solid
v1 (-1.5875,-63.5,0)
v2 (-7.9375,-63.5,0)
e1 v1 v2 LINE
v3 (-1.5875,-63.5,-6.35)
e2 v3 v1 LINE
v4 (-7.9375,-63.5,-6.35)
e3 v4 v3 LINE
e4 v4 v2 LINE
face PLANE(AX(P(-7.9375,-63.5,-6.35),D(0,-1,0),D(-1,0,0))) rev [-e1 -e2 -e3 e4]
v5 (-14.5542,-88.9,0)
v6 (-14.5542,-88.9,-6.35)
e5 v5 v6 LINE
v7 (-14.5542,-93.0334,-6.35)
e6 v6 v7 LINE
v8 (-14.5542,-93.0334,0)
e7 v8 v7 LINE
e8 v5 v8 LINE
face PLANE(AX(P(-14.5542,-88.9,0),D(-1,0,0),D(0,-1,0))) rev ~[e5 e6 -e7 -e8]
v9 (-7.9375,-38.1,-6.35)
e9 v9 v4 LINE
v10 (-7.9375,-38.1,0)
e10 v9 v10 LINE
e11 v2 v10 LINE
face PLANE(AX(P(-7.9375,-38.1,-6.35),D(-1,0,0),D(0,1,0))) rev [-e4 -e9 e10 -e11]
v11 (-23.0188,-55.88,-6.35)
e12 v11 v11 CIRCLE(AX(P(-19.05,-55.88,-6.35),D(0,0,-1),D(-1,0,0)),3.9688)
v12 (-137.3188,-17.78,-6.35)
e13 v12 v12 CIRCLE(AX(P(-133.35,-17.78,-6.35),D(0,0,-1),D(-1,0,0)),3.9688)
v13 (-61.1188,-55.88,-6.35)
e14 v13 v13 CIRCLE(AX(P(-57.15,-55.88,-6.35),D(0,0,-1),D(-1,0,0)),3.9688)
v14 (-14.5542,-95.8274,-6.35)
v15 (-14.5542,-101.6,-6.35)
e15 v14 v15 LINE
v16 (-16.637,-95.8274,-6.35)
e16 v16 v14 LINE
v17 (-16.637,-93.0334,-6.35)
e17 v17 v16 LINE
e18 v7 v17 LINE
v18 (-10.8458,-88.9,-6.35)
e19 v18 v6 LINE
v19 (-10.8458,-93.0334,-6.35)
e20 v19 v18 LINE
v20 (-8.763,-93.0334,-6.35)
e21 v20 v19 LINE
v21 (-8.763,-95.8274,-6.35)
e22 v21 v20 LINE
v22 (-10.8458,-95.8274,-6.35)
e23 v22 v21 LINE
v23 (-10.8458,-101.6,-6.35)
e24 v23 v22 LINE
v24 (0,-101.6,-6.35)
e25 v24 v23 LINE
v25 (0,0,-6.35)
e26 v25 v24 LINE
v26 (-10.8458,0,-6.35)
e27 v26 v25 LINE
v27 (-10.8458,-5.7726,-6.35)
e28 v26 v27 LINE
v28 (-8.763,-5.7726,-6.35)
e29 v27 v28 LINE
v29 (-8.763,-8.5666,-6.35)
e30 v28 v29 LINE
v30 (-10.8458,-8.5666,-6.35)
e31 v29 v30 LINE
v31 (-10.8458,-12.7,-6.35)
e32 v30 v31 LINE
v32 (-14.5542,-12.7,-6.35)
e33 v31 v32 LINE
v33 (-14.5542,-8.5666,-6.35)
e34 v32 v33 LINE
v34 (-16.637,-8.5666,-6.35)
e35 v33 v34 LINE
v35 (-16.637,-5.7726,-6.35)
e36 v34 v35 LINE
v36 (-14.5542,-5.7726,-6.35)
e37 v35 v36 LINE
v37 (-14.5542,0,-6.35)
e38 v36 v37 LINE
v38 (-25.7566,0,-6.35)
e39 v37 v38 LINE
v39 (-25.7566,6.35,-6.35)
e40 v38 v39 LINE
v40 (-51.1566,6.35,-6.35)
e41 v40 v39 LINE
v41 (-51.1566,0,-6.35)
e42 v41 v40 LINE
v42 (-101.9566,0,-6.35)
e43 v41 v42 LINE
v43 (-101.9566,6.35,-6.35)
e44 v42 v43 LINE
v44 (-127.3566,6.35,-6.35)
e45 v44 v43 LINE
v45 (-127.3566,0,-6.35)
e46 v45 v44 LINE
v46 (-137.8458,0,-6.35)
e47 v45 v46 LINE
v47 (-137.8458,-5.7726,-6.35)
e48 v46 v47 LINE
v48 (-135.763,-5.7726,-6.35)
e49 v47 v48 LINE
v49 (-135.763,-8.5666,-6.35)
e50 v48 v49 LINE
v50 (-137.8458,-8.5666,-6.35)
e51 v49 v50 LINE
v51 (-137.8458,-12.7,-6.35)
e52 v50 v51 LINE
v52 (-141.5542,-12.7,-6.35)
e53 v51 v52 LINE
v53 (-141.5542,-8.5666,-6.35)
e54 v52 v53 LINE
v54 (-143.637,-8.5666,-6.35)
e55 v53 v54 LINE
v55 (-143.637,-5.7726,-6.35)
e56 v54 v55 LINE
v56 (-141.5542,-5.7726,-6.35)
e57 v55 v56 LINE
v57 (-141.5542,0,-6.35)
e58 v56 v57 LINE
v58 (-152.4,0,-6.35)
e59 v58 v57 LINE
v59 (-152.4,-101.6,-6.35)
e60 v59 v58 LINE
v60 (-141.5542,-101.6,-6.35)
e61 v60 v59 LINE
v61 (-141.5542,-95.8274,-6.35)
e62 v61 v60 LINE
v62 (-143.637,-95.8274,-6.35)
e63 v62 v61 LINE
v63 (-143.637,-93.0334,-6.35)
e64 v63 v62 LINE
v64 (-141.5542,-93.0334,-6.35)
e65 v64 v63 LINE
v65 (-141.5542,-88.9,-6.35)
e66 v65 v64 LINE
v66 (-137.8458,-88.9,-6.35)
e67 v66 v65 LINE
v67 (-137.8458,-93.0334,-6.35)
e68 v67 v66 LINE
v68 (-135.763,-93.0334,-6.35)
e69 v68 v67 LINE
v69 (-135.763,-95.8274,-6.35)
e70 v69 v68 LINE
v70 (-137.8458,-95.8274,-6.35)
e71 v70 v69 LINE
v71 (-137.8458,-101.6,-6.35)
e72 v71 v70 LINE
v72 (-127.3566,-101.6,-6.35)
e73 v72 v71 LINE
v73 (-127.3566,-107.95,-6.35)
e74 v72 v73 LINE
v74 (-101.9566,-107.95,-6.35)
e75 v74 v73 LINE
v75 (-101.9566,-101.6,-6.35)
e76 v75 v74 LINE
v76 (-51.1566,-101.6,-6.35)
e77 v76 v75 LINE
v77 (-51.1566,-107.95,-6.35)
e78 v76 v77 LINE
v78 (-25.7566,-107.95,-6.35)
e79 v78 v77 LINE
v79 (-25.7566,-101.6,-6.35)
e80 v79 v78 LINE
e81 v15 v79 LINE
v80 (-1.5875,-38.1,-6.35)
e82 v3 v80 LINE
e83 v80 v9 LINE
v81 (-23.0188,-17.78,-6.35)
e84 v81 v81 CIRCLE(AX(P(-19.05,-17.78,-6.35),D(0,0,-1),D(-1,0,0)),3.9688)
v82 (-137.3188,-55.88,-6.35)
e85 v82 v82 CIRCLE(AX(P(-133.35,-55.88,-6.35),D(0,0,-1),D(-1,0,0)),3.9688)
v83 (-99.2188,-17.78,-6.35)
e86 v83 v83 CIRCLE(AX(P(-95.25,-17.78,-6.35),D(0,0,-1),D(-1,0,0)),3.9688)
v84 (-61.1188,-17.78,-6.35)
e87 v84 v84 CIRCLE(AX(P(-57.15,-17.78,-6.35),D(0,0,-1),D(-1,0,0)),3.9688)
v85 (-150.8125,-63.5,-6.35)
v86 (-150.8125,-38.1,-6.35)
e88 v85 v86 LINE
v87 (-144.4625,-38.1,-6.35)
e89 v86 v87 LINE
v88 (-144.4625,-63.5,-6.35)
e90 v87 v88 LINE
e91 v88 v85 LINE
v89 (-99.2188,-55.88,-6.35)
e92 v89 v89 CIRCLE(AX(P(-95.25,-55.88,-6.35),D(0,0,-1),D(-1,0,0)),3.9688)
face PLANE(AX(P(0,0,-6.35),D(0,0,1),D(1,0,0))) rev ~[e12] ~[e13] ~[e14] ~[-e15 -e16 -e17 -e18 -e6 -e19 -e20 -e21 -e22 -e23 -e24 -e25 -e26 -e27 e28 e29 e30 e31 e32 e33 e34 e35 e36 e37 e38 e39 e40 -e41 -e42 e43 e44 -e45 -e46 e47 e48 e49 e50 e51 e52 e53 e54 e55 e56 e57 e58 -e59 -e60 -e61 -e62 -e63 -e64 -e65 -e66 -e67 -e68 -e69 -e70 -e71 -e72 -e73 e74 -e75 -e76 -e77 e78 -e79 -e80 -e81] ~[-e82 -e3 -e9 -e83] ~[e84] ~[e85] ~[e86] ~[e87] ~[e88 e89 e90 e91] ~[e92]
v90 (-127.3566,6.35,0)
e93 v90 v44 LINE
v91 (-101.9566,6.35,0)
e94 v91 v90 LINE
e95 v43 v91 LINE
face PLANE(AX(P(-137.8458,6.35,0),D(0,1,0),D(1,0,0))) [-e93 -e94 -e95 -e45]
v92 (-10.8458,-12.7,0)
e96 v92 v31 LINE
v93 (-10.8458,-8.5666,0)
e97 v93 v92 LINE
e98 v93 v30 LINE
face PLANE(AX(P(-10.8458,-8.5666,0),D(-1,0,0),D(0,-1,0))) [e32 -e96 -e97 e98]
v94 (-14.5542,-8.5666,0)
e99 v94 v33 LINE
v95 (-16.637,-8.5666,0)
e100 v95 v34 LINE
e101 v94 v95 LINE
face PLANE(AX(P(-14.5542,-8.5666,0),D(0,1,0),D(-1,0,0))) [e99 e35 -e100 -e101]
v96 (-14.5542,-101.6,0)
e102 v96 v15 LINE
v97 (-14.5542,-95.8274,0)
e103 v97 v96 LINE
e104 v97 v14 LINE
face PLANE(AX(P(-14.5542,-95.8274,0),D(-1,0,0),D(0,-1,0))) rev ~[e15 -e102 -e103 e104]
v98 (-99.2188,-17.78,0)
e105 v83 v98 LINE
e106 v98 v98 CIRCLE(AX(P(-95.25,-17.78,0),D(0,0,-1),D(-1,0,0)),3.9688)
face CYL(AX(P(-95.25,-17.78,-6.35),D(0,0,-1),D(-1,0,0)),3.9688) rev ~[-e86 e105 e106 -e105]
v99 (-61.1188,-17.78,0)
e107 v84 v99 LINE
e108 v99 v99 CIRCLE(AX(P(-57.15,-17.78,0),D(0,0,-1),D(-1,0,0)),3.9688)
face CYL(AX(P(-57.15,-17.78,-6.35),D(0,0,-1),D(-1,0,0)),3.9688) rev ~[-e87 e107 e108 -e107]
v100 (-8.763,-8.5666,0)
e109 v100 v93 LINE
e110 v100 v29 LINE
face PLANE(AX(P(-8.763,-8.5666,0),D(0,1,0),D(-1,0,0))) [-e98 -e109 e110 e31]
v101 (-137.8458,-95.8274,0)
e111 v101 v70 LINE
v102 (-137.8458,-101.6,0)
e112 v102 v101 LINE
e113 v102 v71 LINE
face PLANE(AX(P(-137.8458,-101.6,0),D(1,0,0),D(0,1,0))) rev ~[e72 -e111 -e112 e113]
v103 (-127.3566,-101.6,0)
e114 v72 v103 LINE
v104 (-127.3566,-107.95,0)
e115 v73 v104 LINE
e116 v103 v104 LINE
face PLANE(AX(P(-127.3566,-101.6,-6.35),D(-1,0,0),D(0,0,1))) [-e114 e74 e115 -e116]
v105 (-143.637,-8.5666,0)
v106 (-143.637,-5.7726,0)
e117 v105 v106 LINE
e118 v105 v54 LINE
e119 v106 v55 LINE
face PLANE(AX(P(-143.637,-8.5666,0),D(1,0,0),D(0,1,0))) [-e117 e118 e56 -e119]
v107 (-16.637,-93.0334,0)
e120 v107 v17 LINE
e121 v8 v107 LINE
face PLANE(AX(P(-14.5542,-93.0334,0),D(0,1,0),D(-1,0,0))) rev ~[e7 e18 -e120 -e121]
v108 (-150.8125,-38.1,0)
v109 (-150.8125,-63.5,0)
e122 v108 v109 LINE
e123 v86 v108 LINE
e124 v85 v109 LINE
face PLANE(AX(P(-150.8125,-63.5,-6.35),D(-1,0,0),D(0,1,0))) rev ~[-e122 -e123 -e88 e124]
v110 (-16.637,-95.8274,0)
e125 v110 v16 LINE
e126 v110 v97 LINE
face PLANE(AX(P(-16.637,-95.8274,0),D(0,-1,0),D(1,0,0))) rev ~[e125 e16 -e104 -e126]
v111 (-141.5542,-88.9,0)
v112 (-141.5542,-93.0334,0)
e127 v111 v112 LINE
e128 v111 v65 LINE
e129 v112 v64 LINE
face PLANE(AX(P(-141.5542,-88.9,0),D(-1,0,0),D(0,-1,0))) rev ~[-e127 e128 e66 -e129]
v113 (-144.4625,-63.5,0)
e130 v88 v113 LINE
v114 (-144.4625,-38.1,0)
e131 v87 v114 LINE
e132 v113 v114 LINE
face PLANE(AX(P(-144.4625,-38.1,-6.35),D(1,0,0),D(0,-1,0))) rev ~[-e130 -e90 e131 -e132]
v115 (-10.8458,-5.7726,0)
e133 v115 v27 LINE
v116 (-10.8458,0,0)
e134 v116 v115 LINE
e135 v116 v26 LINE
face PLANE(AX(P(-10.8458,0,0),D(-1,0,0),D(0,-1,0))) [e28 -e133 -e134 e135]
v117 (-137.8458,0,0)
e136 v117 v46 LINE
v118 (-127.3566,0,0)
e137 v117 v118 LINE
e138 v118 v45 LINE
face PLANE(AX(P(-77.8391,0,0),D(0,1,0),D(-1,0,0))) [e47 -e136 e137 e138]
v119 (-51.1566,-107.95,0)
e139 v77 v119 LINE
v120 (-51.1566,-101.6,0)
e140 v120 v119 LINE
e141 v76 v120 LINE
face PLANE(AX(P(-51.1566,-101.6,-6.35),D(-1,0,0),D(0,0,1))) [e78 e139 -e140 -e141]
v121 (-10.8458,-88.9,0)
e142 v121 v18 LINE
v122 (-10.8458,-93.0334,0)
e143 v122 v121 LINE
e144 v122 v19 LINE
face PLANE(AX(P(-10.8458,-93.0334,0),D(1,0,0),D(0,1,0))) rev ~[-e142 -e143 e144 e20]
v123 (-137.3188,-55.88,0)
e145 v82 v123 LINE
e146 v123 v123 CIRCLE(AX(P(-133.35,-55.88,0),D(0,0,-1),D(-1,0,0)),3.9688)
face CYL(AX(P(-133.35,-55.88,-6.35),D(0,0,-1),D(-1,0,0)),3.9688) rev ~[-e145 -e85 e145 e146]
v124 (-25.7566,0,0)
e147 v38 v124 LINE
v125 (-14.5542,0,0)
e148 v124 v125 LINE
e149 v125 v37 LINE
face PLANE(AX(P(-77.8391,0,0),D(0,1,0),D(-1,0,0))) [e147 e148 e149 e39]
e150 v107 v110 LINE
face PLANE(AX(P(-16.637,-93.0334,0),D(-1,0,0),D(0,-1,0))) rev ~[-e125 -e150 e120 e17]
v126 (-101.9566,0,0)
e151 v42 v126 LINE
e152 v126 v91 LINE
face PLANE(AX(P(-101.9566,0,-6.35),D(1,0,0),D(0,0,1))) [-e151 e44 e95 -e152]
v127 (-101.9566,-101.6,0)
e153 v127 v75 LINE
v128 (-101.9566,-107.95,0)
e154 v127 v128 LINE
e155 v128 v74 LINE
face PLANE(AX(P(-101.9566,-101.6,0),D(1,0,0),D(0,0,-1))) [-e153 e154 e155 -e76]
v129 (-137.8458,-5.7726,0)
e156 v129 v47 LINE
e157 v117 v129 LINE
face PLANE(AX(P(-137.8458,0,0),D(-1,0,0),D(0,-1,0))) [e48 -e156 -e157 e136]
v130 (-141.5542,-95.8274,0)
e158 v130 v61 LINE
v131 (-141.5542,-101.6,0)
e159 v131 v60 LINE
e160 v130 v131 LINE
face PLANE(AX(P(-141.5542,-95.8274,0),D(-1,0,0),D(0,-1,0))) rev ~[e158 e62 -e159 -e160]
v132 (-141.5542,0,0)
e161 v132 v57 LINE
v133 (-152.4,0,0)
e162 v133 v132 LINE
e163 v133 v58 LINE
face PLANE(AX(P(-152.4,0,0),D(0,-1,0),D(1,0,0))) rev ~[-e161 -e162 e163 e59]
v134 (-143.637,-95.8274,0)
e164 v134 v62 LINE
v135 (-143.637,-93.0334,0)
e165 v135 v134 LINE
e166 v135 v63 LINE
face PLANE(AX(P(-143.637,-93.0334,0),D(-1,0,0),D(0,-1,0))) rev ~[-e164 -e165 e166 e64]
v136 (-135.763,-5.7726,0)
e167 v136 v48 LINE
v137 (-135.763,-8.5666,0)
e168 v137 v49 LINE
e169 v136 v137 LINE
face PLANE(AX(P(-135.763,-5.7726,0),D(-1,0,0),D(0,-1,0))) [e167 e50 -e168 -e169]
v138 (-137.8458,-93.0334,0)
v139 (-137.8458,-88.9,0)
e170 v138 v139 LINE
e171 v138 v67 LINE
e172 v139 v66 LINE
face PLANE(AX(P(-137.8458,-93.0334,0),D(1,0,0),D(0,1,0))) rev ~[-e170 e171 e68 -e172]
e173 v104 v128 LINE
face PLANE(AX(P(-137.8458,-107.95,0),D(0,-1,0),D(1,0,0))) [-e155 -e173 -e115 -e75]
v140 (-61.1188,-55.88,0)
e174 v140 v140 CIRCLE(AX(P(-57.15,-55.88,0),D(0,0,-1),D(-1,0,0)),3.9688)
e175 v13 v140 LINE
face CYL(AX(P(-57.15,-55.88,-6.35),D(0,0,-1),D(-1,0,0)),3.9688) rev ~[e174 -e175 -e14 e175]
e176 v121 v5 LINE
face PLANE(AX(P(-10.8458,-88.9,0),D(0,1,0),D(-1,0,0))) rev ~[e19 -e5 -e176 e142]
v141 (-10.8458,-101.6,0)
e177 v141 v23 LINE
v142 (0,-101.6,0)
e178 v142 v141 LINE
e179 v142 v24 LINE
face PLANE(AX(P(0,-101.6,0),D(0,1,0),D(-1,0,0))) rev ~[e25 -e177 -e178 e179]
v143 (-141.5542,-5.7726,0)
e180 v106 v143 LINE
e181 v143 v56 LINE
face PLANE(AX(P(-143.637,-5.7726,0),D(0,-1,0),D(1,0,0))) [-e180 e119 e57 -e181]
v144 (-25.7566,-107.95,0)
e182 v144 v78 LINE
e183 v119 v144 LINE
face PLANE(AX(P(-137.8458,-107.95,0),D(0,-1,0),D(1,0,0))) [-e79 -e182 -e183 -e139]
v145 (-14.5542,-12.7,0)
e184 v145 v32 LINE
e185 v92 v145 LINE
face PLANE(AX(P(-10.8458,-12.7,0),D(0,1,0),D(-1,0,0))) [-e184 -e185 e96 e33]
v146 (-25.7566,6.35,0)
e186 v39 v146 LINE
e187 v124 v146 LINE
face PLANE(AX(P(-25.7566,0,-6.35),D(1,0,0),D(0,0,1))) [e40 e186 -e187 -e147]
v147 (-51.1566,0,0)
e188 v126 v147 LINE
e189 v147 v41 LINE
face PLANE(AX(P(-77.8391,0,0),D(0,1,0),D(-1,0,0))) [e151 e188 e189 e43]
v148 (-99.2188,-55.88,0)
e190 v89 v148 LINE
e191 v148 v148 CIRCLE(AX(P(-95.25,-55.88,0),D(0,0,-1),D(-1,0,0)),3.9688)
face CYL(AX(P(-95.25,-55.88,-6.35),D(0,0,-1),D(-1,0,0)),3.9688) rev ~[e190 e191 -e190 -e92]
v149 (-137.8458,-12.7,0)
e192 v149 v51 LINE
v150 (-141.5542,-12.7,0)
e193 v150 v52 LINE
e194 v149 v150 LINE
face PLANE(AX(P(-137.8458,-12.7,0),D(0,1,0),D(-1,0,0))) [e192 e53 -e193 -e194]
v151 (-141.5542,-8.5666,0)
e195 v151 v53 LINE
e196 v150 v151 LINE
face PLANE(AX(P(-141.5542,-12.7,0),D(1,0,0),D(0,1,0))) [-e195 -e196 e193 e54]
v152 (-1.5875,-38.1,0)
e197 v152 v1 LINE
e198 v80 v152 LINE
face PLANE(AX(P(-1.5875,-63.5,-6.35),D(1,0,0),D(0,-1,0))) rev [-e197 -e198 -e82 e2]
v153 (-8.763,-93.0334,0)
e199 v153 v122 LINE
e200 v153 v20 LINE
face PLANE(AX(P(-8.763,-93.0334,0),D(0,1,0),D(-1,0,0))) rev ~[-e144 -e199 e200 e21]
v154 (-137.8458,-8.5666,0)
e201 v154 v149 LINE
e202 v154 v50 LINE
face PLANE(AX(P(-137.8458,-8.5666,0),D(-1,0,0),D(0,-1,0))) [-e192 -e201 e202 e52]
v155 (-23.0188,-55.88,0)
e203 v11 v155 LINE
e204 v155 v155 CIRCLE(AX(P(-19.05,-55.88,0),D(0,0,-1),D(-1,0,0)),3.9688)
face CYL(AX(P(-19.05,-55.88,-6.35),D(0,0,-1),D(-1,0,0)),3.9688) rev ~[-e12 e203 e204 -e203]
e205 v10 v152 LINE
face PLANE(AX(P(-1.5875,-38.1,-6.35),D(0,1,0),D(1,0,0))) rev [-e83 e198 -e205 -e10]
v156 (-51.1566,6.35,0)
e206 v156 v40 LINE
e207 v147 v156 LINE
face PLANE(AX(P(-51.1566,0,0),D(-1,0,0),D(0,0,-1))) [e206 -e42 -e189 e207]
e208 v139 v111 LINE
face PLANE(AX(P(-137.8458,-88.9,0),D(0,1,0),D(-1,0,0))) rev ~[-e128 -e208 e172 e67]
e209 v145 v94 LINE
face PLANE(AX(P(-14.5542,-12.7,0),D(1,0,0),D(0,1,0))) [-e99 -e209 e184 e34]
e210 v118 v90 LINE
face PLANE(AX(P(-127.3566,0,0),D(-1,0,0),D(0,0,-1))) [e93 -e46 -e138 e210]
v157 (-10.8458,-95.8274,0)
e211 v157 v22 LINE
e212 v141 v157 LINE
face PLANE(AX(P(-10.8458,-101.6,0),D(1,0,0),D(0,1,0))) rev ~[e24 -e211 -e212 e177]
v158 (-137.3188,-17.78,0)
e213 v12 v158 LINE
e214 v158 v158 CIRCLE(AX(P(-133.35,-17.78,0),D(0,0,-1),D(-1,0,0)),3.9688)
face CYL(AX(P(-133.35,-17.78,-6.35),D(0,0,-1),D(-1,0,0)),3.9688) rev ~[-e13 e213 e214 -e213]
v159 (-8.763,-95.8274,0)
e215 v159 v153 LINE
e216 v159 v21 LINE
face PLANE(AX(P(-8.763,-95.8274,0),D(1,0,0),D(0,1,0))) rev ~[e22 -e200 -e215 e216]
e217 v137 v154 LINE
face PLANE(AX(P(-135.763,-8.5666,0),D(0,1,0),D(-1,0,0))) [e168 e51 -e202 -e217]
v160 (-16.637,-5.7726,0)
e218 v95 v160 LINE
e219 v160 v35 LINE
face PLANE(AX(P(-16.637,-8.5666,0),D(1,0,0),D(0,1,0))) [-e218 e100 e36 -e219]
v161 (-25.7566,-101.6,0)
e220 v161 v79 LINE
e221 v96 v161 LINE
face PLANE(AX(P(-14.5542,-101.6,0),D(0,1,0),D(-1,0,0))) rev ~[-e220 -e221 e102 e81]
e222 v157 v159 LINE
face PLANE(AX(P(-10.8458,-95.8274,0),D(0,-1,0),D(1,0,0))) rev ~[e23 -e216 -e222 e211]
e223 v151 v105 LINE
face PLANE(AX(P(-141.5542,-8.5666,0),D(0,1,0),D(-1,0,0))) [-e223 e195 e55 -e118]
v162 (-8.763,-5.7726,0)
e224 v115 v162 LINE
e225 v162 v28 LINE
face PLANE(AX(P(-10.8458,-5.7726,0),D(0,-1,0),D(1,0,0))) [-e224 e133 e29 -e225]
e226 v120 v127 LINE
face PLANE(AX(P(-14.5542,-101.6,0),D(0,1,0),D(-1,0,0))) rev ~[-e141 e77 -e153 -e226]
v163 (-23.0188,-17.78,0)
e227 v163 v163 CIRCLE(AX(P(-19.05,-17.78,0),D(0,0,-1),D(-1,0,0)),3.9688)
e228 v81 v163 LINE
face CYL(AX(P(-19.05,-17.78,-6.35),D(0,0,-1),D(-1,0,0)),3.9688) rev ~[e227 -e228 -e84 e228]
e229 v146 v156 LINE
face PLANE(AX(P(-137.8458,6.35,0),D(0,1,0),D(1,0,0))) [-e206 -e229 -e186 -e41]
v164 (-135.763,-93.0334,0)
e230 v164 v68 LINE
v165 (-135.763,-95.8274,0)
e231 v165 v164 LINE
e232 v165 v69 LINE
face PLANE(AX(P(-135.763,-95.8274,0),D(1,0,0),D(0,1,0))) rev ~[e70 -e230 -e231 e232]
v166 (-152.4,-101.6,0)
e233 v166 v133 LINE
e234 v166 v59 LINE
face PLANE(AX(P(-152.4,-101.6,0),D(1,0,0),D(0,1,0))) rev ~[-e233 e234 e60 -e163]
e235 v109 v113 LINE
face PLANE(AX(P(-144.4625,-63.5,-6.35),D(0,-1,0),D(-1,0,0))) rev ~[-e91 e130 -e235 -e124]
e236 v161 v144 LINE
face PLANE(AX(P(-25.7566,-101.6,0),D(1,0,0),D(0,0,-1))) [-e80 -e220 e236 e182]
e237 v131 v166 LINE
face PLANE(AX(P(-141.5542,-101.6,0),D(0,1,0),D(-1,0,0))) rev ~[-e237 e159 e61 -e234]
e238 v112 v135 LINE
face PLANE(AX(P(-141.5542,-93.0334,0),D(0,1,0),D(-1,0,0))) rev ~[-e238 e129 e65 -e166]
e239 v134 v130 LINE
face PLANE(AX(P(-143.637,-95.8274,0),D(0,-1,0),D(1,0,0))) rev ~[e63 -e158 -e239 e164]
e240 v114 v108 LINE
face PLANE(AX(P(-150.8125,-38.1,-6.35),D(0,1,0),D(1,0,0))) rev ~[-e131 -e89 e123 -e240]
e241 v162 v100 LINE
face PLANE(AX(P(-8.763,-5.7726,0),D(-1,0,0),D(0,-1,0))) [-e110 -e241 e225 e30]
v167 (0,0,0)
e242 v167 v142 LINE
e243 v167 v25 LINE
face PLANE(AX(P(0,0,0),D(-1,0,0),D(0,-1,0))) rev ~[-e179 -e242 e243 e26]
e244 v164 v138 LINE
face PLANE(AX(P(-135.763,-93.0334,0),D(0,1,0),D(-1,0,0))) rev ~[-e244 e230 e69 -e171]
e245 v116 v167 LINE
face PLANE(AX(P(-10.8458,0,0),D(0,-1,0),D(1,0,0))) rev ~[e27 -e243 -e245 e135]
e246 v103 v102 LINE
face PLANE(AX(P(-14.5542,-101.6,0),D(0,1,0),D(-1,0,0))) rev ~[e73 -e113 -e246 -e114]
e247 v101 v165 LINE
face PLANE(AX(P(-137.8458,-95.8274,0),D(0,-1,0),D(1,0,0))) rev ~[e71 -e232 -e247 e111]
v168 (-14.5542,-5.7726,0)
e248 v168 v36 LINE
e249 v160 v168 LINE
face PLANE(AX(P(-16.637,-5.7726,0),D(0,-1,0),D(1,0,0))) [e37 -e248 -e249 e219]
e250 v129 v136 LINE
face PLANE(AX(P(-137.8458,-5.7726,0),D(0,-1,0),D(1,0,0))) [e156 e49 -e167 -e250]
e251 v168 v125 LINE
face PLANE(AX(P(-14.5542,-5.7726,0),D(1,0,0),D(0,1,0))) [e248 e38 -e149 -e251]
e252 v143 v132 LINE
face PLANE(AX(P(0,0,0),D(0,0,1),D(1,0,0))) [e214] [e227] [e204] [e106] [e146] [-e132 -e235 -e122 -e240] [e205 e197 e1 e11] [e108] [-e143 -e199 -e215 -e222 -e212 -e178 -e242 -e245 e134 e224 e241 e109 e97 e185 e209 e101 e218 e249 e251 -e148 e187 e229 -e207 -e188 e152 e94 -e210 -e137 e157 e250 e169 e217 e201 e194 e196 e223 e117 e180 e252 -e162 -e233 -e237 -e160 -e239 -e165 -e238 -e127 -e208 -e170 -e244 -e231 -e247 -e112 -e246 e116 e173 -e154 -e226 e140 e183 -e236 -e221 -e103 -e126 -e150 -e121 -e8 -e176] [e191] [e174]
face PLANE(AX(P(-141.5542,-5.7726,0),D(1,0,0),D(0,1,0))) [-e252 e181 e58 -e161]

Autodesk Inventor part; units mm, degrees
ref_plane "YZ Plane" through (0, 0, 0) normal (1, 0, 0) x (0, 1, 0)
ref_plane "Work Plane1" through (0, 0, 0) normal (0, 0, 1) x (1, 0, 0)
sketch "Sketch1" plane through (0, 0, 0) normal (0, 0, 1) x (1, 0, 0)
  line L0 (-77.8391, 0) -> (-108.8361, 0) projected
  line L1 (-108.8361, -33.02) -> (-108.8361, 0) projected
  line L2 (-77.8391, -33.02) -> (-108.8361, -33.02) projected
  line L3 (-77.8391, -33.02) -> (-77.8391, 0) projected
  line L4 (-152.4, 0) -> (0, 0) construction
  line L5 (-152.4, 0) -> (-152.4, 6.35) construction
  line L6 (0, 0) -> (0, 6.35) construction
  line L7 (-152.4, 0) -> (0, 0)
  line L8 (0, 0) -> (0, -101.6)
  line L9 (0, -101.6) -> (-152.4, -101.6)
  line L10 (-152.4, -101.6) -> (-152.4, 0)
  line L11 (-137.8458, 6.35) -> (-137.8458, 0)
  line L12 (-141.5542, 6.35) -> (-141.5542, 0)
  line L13 (-14.5542, 6.35) -> (-14.5542, 0)
  line L14 (-10.8458, 6.35) -> (-10.8458, 0)
  line L15 (-141.5542, 0) -> (-137.8458, 0)
  line L16 (-137.8458, 0) -> (-137.8458, -12.7)
  line L17 (-137.8458, -12.7) -> (-141.5542, -12.7)
  line L18 (-141.5542, -12.7) -> (-141.5542, 0)
  line L19 (-14.5542, 0) -> (-10.8458, 0)
  line L20 (-10.8458, 0) -> (-10.8458, -12.7)
  line L21 (-10.8458, -12.7) -> (-14.5542, -12.7)
  line L22 (-14.5542, -12.7) -> (-14.5542, 0)
  line L23 (-16.637, -5.7726) -> (-8.763, -5.7726)
  line L24 (-8.763, -5.7726) -> (-8.763, -8.5666)
  line L25 (-8.763, -8.5666) -> (-16.637, -8.5666)
  line L26 (-16.637, -8.5666) -> (-16.637, -5.7726)
  line L27 (-143.637, -5.7726) -> (-135.763, -5.7726)
  line L28 (-135.763, -5.7726) -> (-135.763, -8.5666)
  line L29 (-135.763, -8.5666) -> (-143.637, -8.5666)
  line L30 (-143.637, -8.5666) -> (-143.637, -5.7726)
  line L31 (-152.4, -50.8) -> (0, -50.8) construction
  line L32 (-137.8458, -107.95) -> (-137.8458, -101.6)
  line L33 (-141.5542, -107.95) -> (-141.5542, -101.6)
  line L34 (-14.5542, -107.95) -> (-14.5542, -101.6)
  line L35 (-10.8458, -107.95) -> (-10.8458, -101.6)
  line L36 (-141.5542, -101.6) -> (-137.8458, -101.6)
  line L37 (-137.8458, -101.6) -> (-137.8458, -88.9)
  line L38 (-137.8458, -88.9) -> (-141.5542, -88.9)
  line L39 (-141.5542, -88.9) -> (-141.5542, -101.6)
  line L40 (-14.5542, -101.6) -> (-10.8458, -101.6)
  line L41 (-10.8458, -101.6) -> (-10.8458, -88.9)
  line L42 (-10.8458, -88.9) -> (-14.5542, -88.9)
  line L43 (-14.5542, -88.9) -> (-14.5542, -101.6)
  line L44 (-16.637, -95.8274) -> (-8.763, -95.8274)
  line L45 (-8.763, -95.8274) -> (-8.763, -93.0334)
  line L46 (-8.763, -93.0334) -> (-16.637, -93.0334)
  line L47 (-16.637, -93.0334) -> (-16.637, -95.8274)
  line L48 (-143.637, -95.8274) -> (-135.763, -95.8274)
  line L49 (-135.763, -95.8274) -> (-135.763, -93.0334)
  line L50 (-135.763, -93.0334) -> (-143.637, -93.0334)
  line L51 (-143.637, -93.0334) -> (-143.637, -95.8274)
  dimension "d0" = 101.6
  dimension "d1" = 12.7
  dimension "d2" = 7.874
  dimension "d3" = 2.794
  dimension "d6" = 2.0828
  dimension "d7" = 2.0828
  dimension "d8" = 7.874
  dimension "d9" = 2.0828
  dimension "d10" = 2.0828
ref_plane "Work Plane2" through (-137.8458, 0, 0) normal (0, 1, 0) x (1, 0, 0)
sketch "Sketch2" plane through (-137.8458, 0, 0) normal (0, 1, 0) x (1, 0, 0)
  line L0 (35.8892, 0) -> (10.4892, 0) projected
  line L1 (10.4892, 0) -> (10.4892, 6.35) projected
  line L2 (10.4892, 6.35) -> (35.8892, 6.35) projected
  line L3 (35.8892, 6.35) -> (35.8892, 0) projected
  line L4 (112.0892, 0) -> (86.6892, 0) projected
  line L5 (112.0892, 6.35) -> (112.0892, 0) projected
  line L6 (86.6892, 6.35) -> (112.0892, 6.35) projected
  line L7 (86.6892, 0) -> (86.6892, 6.35) projected
  point P0 (137.8458, 0)
extrude "Extrusion2" add sketch "Sketch2" along normal blind 6.35
extrude "Extrusion3" add sketch "Sketch1" against normal blind 6.35 contours L3 L2 L1 L0 | L7 L22 L23 L26 L25 L21 L20 L24 L8 L9 L41 L44 L45 L46 L42 L43 L47 L37 L48 L49 L50 L38 L39 L51 L10 L18 L27 L30 L29 L17 L16 L28 L1 L2 L3
sketch "Sketch3" plane through (-137.8458, -101.6, 0) normal (0, -1, 0) x (1, 0, 0)
  line L0 (35.8892, 0) -> (35.8892, -6.35) projected
  line L1 (35.8892, -6.35) -> (10.4892, -6.35) projected
  line L2 (10.4892, -6.35) -> (10.4892, 0) projected
  line L3 (10.4892, 0) -> (35.8892, 0) projected
  line L4 (112.0892, 0) -> (112.0892, -6.35) projected
  line L5 (112.0892, -6.35) -> (86.6892, -6.35) projected
  line L6 (86.6892, -6.35) -> (86.6892, 0) projected
  line L7 (86.6892, 0) -> (112.0892, 0) projected
  point P0 (137.8458, 0)
extrude "Extrusion4" add sketch "Sketch3" along normal blind 6.35
sketch "Sketch4" plane through (-101.9566, 6.35, -6.35) normal (0, 0, -1) x (-1, 0, 0)
  line L0 (48.8559, -69.85) -> (48.8559, -44.45) projected
  line L1 (48.8559, -44.45) -> (42.5059, -44.45) projected
  line L2 (42.5059, -44.45) -> (42.5059, -69.85) projected
  line L3 (42.5059, -69.85) -> (48.8559, -69.85) projected
extrude "Extrusion5" cut sketch "Sketch4" against normal through all
ref_plane "Work Plane3" through (-76.2, -101.6, 0) normal (-1, 0, 0) x (0, 0, 1)
mirror "Mirror1" about plane through (-76.2, -101.6, 0) normal (-1, 0, 0) of "Extrusion5"
sketch "Sketch5" plane through (-101.9566, 6.35, -6.35) normal (0, 0, -1) x (-1, 0, 0)
  line L0 (0, -6.35) -> (-50.8, -6.35) projected
  line L1 (-101.9566, -6.35) -> (-101.9566, -107.95) projected
  line L2 (50.4434, -107.95) -> (50.4434, -6.35) projected
  line L3 (35.8892, -6.35) -> (25.4, -6.35) projected
  circle A0 centre (31.3934, -24.13) radius 3.9688
  circle A1 centre (-6.7066, -24.13) radius 3.9688
  circle A2 centre (-44.8066, -24.13) radius 3.9688
  circle A3 centre (-82.9066, -24.13) radius 3.9688
  circle A4 centre (31.3934, -62.23) radius 3.9688
  circle A5 centre (-6.7066, -62.23) radius 3.9688
  circle A6 centre (-44.8066, -62.23) radius 3.9688
  circle A7 centre (-82.9066, -62.23) radius 3.9688
  dimension "d21" = 7.9375
  dimension "d22" = 17.78
  dimension "d25" = 38.1
  dimension "d30" = 19.05
  dimension "d31" = 19.05
  dimension "d34" = 38.1
extrude "Extrusion6" cut sketch "Sketch5" against normal through all
equation "\"d6\" = d7"
equation "\"d9\" = d10"
equation "\"d30\" = d31"
properties part number "baseBoxShortSideRB02"
